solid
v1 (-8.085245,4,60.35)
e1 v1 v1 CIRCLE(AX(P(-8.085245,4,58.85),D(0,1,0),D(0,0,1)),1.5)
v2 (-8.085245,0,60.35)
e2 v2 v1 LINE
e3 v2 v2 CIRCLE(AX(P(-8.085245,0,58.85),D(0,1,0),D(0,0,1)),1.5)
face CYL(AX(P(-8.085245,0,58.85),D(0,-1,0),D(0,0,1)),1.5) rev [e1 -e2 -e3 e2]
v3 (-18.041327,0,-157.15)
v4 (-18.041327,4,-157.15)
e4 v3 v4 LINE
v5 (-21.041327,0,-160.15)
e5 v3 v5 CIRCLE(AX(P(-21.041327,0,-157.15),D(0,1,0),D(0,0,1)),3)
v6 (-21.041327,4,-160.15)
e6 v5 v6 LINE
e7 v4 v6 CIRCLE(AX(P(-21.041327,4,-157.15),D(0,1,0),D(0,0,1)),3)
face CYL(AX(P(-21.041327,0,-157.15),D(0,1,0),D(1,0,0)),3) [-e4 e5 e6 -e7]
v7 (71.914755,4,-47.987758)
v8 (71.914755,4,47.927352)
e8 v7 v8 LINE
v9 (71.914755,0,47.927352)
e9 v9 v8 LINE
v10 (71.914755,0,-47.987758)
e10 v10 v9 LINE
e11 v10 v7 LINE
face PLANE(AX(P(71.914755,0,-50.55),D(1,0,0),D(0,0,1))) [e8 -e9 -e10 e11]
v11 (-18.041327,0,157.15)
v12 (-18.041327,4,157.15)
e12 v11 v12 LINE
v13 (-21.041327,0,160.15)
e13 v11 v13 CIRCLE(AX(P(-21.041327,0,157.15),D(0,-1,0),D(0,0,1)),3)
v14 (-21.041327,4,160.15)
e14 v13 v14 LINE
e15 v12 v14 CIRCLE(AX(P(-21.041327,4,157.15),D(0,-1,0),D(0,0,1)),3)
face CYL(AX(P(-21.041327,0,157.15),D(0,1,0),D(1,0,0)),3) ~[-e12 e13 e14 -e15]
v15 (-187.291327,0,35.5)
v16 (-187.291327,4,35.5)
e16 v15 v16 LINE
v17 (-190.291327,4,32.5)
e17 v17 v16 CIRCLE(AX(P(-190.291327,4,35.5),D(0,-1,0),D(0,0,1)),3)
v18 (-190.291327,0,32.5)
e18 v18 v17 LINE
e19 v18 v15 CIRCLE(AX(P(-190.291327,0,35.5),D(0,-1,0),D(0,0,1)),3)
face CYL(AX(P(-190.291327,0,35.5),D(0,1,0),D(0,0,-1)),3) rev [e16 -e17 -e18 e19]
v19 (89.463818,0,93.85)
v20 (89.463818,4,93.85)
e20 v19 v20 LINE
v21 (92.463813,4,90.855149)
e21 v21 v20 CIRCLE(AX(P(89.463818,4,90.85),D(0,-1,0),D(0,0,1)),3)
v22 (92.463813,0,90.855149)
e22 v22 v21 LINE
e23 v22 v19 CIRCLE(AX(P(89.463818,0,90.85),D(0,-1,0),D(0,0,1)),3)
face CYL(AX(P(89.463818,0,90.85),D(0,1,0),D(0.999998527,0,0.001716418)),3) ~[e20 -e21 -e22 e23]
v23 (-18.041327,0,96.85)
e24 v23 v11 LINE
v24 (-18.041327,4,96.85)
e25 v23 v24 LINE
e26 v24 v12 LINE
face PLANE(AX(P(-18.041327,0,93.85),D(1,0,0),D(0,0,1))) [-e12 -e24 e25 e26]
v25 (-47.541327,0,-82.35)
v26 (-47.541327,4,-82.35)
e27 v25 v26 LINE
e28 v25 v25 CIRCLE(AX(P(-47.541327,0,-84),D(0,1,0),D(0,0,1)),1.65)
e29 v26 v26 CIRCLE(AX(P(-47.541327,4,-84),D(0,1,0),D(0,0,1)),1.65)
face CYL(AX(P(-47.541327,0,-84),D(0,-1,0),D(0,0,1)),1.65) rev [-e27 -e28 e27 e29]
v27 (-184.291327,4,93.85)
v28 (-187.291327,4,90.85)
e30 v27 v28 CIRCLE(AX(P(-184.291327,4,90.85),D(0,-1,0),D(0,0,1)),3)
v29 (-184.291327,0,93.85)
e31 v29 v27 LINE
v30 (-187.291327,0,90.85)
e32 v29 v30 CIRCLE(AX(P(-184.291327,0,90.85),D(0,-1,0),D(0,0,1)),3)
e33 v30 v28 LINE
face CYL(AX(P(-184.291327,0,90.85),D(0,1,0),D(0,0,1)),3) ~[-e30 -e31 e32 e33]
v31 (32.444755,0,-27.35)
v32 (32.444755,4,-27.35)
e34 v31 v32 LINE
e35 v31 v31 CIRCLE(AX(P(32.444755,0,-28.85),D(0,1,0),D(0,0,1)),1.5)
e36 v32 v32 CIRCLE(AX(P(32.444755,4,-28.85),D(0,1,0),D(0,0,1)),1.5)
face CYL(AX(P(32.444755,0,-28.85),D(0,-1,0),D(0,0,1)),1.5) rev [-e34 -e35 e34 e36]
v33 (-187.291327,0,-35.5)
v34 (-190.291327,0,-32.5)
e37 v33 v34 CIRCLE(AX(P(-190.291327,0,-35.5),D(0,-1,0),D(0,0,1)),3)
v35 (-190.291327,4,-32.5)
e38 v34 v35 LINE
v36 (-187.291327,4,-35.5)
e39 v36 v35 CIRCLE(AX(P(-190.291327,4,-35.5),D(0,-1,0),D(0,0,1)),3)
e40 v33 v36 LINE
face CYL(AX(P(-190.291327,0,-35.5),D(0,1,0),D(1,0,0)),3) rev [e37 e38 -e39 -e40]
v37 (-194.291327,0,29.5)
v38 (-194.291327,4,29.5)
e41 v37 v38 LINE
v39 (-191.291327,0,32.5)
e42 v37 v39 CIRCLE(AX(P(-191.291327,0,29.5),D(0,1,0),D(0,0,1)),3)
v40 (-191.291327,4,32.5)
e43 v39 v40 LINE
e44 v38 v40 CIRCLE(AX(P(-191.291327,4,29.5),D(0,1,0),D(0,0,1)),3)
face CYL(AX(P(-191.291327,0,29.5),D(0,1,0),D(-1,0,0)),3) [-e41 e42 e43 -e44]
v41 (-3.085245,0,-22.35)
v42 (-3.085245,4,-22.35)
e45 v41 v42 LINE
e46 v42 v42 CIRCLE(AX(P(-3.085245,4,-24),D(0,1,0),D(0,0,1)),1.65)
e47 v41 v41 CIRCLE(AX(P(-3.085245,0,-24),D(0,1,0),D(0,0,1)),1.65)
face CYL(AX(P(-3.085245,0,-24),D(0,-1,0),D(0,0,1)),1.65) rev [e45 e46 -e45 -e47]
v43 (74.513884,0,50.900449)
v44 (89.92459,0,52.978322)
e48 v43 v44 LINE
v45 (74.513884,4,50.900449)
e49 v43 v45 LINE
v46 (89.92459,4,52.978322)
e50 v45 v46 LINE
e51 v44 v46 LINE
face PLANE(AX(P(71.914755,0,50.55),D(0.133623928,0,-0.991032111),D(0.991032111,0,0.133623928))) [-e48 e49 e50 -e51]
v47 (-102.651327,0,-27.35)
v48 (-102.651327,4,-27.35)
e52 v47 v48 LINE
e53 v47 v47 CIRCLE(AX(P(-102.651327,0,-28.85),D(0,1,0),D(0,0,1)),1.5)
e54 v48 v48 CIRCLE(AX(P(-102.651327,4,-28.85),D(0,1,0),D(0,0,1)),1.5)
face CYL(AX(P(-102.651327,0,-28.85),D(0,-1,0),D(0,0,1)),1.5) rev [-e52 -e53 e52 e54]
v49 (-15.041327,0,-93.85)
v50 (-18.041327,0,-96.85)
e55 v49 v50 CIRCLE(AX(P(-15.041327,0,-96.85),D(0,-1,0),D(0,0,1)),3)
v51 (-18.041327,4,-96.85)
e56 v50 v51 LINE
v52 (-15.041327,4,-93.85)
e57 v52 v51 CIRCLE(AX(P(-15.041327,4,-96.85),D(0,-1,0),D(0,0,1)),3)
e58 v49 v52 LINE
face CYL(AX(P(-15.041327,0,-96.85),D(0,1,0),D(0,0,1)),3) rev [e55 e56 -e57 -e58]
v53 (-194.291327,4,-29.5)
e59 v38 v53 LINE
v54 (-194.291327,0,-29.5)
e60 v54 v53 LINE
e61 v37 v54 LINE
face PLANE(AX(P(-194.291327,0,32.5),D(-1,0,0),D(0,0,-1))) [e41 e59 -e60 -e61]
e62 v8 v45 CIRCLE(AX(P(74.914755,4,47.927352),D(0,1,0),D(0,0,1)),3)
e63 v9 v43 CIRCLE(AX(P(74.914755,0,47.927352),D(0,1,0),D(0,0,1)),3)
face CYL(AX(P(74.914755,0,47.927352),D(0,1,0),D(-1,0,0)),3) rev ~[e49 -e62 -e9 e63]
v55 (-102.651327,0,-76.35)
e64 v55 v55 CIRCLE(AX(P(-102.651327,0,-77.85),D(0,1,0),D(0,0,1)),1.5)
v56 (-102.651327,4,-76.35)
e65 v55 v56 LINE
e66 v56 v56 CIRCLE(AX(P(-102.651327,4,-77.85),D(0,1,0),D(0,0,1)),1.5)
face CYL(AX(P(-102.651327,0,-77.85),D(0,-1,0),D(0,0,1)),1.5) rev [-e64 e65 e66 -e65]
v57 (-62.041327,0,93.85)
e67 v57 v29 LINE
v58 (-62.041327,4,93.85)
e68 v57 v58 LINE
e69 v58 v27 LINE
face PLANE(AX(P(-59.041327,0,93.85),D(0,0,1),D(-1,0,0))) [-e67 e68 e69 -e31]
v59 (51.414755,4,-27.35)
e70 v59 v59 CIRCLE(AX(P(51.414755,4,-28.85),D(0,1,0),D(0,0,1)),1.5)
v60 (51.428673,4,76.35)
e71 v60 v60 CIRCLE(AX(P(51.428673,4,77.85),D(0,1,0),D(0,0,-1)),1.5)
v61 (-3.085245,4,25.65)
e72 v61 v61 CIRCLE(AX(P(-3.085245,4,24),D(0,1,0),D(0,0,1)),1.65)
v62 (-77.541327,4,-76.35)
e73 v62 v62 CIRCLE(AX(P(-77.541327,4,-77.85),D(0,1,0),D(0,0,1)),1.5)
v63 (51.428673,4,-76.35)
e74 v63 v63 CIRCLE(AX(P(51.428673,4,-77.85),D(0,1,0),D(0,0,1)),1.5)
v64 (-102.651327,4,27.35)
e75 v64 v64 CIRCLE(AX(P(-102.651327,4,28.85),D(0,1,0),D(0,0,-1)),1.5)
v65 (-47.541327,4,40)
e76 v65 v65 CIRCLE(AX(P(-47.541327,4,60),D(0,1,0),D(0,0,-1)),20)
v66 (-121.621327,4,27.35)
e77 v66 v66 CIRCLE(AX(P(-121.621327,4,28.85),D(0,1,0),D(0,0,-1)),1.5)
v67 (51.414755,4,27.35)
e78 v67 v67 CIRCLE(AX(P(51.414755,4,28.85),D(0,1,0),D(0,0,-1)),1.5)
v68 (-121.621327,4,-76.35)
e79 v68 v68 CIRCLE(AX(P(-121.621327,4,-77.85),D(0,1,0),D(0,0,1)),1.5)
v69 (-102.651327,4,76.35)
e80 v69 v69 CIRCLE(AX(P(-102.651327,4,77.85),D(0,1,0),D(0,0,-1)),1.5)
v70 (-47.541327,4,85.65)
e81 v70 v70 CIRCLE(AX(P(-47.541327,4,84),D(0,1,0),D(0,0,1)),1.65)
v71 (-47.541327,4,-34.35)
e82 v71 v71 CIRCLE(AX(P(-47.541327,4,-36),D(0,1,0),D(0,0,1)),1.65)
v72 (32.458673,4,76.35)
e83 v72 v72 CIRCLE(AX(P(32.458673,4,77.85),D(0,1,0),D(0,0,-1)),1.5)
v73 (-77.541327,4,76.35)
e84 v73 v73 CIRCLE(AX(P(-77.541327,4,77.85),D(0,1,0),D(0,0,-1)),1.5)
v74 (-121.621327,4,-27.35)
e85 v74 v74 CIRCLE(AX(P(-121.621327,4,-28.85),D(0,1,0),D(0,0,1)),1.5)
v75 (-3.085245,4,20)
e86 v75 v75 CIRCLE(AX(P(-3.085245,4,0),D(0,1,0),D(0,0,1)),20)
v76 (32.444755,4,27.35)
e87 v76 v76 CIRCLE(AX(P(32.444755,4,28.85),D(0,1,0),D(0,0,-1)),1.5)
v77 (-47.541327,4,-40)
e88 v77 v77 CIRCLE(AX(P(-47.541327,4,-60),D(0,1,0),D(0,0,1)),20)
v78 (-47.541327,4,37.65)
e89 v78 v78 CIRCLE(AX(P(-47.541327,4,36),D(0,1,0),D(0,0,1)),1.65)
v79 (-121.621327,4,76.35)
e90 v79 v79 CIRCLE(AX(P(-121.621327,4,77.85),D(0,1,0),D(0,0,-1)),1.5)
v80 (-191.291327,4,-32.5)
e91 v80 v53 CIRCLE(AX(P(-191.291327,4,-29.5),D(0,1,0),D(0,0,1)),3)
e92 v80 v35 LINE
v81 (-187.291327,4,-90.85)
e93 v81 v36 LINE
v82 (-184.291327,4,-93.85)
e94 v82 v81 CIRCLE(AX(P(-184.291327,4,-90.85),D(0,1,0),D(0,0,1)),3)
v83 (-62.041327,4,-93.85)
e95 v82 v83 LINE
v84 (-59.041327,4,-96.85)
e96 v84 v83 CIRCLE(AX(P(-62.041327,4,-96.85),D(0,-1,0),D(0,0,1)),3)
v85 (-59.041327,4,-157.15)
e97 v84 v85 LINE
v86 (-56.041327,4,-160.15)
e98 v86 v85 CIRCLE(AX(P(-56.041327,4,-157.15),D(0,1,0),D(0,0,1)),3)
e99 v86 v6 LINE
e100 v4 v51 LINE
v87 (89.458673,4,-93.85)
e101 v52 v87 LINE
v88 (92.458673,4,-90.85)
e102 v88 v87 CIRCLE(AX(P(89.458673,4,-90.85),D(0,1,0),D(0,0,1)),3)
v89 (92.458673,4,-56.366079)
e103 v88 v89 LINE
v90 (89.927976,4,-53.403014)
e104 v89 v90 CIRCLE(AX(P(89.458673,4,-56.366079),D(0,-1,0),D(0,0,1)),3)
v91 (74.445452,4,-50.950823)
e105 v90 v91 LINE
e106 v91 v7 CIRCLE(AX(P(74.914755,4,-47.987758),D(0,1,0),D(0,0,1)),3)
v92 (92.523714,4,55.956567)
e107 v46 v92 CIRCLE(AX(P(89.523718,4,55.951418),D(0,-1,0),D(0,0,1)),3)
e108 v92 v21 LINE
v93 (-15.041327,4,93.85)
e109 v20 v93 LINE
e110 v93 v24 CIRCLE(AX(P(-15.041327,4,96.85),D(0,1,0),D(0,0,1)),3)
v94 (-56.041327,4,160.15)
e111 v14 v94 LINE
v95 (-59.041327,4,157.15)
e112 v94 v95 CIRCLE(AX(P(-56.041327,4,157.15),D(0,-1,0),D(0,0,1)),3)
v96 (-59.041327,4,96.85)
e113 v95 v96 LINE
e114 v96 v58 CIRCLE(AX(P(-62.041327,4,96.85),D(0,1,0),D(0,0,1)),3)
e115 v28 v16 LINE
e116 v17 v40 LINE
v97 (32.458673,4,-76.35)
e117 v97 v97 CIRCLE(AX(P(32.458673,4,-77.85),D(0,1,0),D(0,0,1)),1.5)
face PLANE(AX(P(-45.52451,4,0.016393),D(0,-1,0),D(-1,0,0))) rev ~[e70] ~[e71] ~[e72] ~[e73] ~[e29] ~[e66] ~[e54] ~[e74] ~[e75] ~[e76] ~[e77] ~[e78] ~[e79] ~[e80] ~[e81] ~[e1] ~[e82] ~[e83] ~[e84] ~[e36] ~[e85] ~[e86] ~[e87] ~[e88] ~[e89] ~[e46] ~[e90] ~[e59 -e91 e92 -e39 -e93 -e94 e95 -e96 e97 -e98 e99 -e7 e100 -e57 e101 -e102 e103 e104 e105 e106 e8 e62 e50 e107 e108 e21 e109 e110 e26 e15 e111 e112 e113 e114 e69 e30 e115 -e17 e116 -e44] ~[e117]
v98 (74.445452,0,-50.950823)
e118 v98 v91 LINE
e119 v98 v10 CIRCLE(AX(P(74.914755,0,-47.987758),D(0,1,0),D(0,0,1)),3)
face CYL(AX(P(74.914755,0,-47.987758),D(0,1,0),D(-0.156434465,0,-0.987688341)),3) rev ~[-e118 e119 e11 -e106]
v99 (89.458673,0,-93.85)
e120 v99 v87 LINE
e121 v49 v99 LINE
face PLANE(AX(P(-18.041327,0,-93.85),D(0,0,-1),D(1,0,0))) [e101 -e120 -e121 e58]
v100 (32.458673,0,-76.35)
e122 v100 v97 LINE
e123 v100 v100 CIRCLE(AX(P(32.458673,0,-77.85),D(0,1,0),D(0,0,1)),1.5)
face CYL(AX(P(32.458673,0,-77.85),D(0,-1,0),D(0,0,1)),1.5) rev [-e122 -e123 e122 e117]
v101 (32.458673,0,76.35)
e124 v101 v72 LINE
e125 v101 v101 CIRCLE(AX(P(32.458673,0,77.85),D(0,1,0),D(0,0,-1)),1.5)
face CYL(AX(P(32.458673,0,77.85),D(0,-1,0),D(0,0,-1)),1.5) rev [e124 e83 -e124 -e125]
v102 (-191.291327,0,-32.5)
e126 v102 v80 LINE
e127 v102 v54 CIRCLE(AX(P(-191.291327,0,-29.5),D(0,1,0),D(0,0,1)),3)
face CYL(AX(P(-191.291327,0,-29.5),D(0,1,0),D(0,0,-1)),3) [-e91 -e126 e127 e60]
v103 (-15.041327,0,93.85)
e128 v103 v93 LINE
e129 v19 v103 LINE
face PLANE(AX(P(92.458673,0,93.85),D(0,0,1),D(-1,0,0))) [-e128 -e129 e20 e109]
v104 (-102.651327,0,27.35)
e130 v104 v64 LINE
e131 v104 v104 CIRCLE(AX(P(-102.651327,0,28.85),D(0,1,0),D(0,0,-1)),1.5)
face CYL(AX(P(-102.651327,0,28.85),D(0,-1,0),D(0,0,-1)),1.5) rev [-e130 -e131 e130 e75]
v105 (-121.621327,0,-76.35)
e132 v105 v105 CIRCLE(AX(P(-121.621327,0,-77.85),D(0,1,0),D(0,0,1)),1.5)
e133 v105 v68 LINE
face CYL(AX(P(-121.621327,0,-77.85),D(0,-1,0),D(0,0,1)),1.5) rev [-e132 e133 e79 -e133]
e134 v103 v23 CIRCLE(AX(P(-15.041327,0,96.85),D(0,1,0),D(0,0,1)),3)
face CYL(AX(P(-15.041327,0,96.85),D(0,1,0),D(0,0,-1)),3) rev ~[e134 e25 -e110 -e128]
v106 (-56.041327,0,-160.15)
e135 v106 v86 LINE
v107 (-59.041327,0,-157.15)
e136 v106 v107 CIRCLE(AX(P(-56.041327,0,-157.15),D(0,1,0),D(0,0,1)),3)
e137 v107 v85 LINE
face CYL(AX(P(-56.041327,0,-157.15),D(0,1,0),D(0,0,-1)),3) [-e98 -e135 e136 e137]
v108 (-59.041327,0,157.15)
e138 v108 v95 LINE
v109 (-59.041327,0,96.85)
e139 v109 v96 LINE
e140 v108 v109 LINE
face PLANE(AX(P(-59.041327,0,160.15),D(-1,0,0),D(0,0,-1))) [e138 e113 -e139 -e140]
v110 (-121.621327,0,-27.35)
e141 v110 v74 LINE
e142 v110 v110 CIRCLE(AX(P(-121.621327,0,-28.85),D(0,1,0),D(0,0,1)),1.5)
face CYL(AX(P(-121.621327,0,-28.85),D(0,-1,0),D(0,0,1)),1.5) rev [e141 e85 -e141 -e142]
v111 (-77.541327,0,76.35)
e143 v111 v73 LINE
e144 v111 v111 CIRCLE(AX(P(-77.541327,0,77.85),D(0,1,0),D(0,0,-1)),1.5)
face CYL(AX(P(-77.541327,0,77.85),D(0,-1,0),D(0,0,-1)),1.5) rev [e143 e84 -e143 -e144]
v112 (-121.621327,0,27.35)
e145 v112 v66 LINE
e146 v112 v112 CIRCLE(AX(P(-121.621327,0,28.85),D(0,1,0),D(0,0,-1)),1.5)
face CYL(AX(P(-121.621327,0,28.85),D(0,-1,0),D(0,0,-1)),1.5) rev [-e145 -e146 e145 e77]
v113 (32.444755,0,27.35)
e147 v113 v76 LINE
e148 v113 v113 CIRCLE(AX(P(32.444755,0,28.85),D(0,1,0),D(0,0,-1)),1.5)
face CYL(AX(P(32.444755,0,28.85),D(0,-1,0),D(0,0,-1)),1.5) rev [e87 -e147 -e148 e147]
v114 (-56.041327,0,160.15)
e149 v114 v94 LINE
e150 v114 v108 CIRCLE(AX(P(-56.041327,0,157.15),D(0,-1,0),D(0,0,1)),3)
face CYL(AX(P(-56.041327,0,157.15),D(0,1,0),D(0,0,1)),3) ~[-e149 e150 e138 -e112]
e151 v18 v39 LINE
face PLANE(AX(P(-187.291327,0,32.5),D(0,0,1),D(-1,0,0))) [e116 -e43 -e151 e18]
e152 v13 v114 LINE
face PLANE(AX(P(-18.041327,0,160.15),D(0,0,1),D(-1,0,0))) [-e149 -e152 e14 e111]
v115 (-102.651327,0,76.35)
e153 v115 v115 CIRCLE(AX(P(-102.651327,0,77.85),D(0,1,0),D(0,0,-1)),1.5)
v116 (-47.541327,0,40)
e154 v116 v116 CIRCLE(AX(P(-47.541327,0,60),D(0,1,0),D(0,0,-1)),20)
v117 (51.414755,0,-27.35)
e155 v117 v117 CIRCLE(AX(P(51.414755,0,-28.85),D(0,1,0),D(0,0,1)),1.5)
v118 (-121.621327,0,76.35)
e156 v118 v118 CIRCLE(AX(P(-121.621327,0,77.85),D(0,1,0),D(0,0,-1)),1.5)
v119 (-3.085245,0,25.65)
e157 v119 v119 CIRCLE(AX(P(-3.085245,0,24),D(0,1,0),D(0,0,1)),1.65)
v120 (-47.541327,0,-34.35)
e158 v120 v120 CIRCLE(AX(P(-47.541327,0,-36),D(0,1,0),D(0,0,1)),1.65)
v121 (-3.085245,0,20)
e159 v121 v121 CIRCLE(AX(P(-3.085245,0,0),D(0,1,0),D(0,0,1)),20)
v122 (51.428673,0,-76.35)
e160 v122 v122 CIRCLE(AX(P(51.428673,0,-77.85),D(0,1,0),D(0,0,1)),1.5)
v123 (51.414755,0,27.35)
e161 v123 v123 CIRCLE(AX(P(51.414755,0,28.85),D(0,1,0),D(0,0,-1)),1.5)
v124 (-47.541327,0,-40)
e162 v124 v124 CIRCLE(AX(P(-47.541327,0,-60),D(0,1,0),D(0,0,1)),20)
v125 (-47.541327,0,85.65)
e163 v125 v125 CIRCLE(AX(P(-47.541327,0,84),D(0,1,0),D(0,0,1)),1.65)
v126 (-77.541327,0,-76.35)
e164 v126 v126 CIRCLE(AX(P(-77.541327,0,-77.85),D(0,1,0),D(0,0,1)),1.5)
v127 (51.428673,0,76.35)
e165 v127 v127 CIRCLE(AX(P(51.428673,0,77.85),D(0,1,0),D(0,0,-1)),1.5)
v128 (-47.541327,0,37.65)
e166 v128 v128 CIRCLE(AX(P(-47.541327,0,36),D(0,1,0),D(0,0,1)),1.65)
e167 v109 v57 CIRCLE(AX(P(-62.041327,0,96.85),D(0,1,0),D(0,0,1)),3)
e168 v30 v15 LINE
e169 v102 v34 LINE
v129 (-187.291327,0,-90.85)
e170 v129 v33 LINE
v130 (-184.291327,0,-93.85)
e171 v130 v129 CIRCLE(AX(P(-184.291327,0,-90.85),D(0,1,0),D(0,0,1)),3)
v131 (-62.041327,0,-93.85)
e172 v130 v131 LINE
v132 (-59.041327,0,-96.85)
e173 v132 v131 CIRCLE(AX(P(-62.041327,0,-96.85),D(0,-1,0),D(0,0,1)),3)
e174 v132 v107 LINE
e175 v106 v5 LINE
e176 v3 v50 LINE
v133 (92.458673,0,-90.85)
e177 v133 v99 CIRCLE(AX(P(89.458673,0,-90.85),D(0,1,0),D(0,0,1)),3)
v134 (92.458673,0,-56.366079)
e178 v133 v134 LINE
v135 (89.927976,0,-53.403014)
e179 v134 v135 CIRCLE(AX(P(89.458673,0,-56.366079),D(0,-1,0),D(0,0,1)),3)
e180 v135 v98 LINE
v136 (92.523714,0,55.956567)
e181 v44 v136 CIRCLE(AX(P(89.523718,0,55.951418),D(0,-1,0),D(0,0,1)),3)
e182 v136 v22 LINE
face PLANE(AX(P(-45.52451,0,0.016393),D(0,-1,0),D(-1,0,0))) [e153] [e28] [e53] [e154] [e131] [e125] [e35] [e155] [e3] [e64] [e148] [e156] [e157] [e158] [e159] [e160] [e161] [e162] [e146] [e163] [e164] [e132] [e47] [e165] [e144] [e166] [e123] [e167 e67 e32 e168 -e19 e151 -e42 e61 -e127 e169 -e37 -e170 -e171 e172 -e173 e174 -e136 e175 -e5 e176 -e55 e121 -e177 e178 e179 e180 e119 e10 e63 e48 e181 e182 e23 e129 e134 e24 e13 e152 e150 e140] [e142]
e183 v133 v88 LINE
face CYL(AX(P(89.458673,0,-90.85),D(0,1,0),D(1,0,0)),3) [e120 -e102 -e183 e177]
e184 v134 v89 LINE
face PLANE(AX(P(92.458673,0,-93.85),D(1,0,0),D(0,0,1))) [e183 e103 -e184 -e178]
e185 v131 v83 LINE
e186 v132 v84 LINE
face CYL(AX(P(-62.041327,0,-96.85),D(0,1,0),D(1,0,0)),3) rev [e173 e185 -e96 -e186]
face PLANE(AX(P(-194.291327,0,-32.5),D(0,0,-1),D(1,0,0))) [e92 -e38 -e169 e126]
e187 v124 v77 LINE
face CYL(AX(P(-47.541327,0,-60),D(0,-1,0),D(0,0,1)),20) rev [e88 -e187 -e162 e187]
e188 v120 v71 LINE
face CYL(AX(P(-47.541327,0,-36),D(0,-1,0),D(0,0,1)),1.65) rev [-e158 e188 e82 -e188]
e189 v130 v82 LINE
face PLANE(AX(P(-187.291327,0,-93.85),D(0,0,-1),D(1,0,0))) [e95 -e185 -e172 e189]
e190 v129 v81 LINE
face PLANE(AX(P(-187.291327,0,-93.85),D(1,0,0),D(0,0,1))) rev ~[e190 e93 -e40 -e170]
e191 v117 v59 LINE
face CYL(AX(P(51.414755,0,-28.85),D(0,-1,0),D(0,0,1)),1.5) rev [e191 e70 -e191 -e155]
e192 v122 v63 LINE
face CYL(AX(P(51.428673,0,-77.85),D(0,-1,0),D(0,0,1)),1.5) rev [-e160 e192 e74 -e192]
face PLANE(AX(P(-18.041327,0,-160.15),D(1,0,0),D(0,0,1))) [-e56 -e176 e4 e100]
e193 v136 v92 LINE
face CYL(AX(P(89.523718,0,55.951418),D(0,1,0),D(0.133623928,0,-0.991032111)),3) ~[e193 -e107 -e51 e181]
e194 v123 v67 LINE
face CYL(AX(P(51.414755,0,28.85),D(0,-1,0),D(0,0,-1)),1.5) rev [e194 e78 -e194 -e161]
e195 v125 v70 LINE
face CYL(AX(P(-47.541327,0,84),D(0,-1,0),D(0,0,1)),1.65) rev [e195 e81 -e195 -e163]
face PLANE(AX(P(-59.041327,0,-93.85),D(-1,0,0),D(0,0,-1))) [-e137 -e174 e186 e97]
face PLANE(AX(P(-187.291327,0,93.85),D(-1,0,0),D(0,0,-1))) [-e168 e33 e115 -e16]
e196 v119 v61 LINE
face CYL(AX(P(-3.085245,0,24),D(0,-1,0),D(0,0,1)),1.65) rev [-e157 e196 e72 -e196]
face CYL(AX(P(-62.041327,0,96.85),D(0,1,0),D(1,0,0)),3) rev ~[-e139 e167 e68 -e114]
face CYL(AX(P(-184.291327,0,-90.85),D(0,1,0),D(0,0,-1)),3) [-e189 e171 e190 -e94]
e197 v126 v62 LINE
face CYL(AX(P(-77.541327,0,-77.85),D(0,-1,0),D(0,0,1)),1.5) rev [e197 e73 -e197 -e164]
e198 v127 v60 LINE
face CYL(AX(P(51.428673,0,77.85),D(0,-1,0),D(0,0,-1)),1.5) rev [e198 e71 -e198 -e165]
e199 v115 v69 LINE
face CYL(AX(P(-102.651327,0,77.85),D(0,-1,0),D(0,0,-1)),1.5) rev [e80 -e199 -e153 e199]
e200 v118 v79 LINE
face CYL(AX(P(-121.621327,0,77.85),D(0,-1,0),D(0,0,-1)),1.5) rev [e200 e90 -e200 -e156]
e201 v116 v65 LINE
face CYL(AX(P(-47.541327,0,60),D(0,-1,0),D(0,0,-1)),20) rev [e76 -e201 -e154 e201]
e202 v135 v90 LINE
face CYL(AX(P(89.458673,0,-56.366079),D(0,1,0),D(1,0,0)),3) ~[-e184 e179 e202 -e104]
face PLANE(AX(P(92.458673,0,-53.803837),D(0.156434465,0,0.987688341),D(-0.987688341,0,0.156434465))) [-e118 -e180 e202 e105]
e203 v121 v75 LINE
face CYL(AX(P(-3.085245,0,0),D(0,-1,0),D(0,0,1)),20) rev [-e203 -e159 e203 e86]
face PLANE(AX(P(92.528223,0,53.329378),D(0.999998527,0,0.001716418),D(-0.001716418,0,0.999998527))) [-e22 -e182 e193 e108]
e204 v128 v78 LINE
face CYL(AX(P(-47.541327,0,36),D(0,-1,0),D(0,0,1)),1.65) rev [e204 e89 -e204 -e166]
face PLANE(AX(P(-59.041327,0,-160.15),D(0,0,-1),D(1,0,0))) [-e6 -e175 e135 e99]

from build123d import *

# Parameters (mm, degrees)
SKETCH1_R           = 20
SKETCH1_R_2         = 1.5
SKETCH1_R_3         = 1.65
BOSS_EXTRUDE2_DEPTH = 4
FILLET1_R           = 3


with BuildPart() as part:
    # Sketch1 → Boss-Extrude2 (new body)
    with BuildSketch(Plane(origin=(0, 0, 0), x_dir=(1, 0, 0), z_dir=(0, 1, 0))):
        Polygon((92.45867298, 93.85), (92.45867298, 53.803836873), (71.914755495, 50.55), (71.914755495, -50.55), (92.528223413, -53.3293777), (92.45867298, -93.85), (-18.04132702, -93.85), (-18.04132702, -160.15), (-59.04132702, -160.15), (-59.04132702, -93.85), (-187.29132702, -93.85), (-187.29132702, -32.5), (-194.29132702, -32.5), (-194.29132702, 32.5), (-187.29132702, 32.5), (-187.29132702, 34.274594508), (-187.29132702, 93.85), (-59.04132702, 93.85), (-59.04132702, 160.15), (-18.04132702, 160.15), (-18.04132702, 93.85), align=None)
        with Locations(Location((-47.54132702, 60, 0), (0, 0, 270))):
            Circle(SKETCH1_R, mode=Mode.SUBTRACT)
        with Locations(Location((-3.085244505, 0, 0), (0, 0, 270))):
            Circle(SKETCH1_R, mode=Mode.SUBTRACT)
        with Locations(Location((-47.54132702, -60, 0), (0, 0, 90))):
            Circle(SKETCH1_R, mode=Mode.SUBTRACT)
        with Locations(Location((-77.54132702, 77.85, 0), (0, 0, 270))):
            Circle(SKETCH1_R_2, mode=Mode.SUBTRACT)
        with Locations(Location((-121.62132702, 28.85, 0), (0, 0, 270))):
            Circle(SKETCH1_R_2, mode=Mode.SUBTRACT)
        with Locations(Location((-102.65132702, 28.85, 0), (0, 0, 270))):
            Circle(SKETCH1_R_2, mode=Mode.SUBTRACT)
        with Locations(Location((-121.62132702, -28.85, 0), (0, 0, 90))):
            Circle(SKETCH1_R_2, mode=Mode.SUBTRACT)
        with Locations(Location((-102.65132702, -28.85, 0), (0, 0, 90))):
            Circle(SKETCH1_R_2, mode=Mode.SUBTRACT)
        with Locations(Location((-77.54132702, -77.85, 0), (0, 0, 90))):
            Circle(SKETCH1_R_2, mode=Mode.SUBTRACT)
        with Locations(Location((32.45867298, 77.85, 0), (0, 0, 270))):
            Circle(SKETCH1_R_2, mode=Mode.SUBTRACT)
        with Locations(Location((-8.085244505, -58.85, 0), (0, 0, 270))):
            Circle(SKETCH1_R_2, mode=Mode.SUBTRACT)
        with Locations(Location((32.45867298, -77.85, 0), (0, 0, 90))):
            Circle(SKETCH1_R_2, mode=Mode.SUBTRACT)
        with Locations(Location((-121.62132702, -77.85, 0), (0, 0, 90))):
            Circle(SKETCH1_R_2, mode=Mode.SUBTRACT)
        with Locations(Location((-102.65132702, -77.85, 0), (0, 0, 90))):
            Circle(SKETCH1_R_2, mode=Mode.SUBTRACT)
        with Locations(Location((51.42867298, -77.85, 0), (0, 0, 90))):
            Circle(SKETCH1_R_2, mode=Mode.SUBTRACT)
        with Locations(Location((32.444755495, -28.85, 0), (0, 0, 90))):
            Circle(SKETCH1_R_2, mode=Mode.SUBTRACT)
        with Locations(Location((51.414755495, -28.85, 0), (0, 0, 90))):
            Circle(SKETCH1_R_2, mode=Mode.SUBTRACT)
        with Locations(Location((-121.62132702, 77.85, 0), (0, 0, 270))):
            Circle(SKETCH1_R_2, mode=Mode.SUBTRACT)
        with Locations(Location((-102.65132702, 77.85, 0), (0, 0, 270))):
            Circle(SKETCH1_R_2, mode=Mode.SUBTRACT)
        with Locations(Location((51.414755495, 28.85, 0), (0, 0, 270))):
            Circle(SKETCH1_R_2, mode=Mode.SUBTRACT)
        with Locations(Location((32.444755495, 28.85, 0), (0, 0, 270))):
            Circle(SKETCH1_R_2, mode=Mode.SUBTRACT)
        with Locations(Location((51.42867298, 77.85, 0), (0, 0, 270))):
            Circle(SKETCH1_R_2, mode=Mode.SUBTRACT)
        with Locations(Location((-47.54132702, -84, 0), (0, 0, 270))):
            Circle(SKETCH1_R_3, mode=Mode.SUBTRACT)
        with Locations(Location((-47.54132702, -36, 0), (0, 0, 270))):
            Circle(SKETCH1_R_3, mode=Mode.SUBTRACT)
        with Locations(Location((-3.085244505, -24, 0), (0, 0, 270))):
            Circle(SKETCH1_R_3, mode=Mode.SUBTRACT)
        with Locations(Location((-3.085244505, 24, 0), (0, 0, 270))):
            Circle(SKETCH1_R_3, mode=Mode.SUBTRACT)
        with Locations(Location((-47.54132702, 36, 0), (0, 0, 270))):
            Circle(SKETCH1_R_3, mode=Mode.SUBTRACT)
        with Locations(Location((-47.54132702, 84, 0), (0, 0, 270))):
            Circle(SKETCH1_R_3, mode=Mode.SUBTRACT)
    extrude(amount=BOSS_EXTRUDE2_DEPTH)

    # Fillet1
    fillet1_edges = [part.edges().sort_by_distance(p)[0] for p in [
        (-187.29132702, 2, -93.85),
        (-59.04132702, 2, -93.85),
        (-59.04132702, 2, -160.15),
        (-18.04132702, 2, -160.15),
        (-18.04132702, 2, -93.85),
        (92.45867298, 2, -93.85),
        (92.45867298, 2, -53.803836873),
        (71.914755495, 2, -50.55),
        (71.914755495, 2, 50.55),
        (92.528223413, 2, 53.3293777),
        (92.45867298, 2, 93.85),
        (-18.04132702, 2, 93.85),
        (-18.04132702, 2, 160.15),
        (-59.04132702, 2, 160.15),
        (-59.04132702, 2, 93.85),
        (-187.29132702, 2, 93.85),
        (-187.29132702, 2, 32.5),
        (-194.29132702, 2, 32.5),
        (-194.29132702, 2, -32.5),
        (-187.29132702, 2, -32.5),
    ]]
    fillet(fillet1_edges, radius=FILLET1_R)


solid = part.part
